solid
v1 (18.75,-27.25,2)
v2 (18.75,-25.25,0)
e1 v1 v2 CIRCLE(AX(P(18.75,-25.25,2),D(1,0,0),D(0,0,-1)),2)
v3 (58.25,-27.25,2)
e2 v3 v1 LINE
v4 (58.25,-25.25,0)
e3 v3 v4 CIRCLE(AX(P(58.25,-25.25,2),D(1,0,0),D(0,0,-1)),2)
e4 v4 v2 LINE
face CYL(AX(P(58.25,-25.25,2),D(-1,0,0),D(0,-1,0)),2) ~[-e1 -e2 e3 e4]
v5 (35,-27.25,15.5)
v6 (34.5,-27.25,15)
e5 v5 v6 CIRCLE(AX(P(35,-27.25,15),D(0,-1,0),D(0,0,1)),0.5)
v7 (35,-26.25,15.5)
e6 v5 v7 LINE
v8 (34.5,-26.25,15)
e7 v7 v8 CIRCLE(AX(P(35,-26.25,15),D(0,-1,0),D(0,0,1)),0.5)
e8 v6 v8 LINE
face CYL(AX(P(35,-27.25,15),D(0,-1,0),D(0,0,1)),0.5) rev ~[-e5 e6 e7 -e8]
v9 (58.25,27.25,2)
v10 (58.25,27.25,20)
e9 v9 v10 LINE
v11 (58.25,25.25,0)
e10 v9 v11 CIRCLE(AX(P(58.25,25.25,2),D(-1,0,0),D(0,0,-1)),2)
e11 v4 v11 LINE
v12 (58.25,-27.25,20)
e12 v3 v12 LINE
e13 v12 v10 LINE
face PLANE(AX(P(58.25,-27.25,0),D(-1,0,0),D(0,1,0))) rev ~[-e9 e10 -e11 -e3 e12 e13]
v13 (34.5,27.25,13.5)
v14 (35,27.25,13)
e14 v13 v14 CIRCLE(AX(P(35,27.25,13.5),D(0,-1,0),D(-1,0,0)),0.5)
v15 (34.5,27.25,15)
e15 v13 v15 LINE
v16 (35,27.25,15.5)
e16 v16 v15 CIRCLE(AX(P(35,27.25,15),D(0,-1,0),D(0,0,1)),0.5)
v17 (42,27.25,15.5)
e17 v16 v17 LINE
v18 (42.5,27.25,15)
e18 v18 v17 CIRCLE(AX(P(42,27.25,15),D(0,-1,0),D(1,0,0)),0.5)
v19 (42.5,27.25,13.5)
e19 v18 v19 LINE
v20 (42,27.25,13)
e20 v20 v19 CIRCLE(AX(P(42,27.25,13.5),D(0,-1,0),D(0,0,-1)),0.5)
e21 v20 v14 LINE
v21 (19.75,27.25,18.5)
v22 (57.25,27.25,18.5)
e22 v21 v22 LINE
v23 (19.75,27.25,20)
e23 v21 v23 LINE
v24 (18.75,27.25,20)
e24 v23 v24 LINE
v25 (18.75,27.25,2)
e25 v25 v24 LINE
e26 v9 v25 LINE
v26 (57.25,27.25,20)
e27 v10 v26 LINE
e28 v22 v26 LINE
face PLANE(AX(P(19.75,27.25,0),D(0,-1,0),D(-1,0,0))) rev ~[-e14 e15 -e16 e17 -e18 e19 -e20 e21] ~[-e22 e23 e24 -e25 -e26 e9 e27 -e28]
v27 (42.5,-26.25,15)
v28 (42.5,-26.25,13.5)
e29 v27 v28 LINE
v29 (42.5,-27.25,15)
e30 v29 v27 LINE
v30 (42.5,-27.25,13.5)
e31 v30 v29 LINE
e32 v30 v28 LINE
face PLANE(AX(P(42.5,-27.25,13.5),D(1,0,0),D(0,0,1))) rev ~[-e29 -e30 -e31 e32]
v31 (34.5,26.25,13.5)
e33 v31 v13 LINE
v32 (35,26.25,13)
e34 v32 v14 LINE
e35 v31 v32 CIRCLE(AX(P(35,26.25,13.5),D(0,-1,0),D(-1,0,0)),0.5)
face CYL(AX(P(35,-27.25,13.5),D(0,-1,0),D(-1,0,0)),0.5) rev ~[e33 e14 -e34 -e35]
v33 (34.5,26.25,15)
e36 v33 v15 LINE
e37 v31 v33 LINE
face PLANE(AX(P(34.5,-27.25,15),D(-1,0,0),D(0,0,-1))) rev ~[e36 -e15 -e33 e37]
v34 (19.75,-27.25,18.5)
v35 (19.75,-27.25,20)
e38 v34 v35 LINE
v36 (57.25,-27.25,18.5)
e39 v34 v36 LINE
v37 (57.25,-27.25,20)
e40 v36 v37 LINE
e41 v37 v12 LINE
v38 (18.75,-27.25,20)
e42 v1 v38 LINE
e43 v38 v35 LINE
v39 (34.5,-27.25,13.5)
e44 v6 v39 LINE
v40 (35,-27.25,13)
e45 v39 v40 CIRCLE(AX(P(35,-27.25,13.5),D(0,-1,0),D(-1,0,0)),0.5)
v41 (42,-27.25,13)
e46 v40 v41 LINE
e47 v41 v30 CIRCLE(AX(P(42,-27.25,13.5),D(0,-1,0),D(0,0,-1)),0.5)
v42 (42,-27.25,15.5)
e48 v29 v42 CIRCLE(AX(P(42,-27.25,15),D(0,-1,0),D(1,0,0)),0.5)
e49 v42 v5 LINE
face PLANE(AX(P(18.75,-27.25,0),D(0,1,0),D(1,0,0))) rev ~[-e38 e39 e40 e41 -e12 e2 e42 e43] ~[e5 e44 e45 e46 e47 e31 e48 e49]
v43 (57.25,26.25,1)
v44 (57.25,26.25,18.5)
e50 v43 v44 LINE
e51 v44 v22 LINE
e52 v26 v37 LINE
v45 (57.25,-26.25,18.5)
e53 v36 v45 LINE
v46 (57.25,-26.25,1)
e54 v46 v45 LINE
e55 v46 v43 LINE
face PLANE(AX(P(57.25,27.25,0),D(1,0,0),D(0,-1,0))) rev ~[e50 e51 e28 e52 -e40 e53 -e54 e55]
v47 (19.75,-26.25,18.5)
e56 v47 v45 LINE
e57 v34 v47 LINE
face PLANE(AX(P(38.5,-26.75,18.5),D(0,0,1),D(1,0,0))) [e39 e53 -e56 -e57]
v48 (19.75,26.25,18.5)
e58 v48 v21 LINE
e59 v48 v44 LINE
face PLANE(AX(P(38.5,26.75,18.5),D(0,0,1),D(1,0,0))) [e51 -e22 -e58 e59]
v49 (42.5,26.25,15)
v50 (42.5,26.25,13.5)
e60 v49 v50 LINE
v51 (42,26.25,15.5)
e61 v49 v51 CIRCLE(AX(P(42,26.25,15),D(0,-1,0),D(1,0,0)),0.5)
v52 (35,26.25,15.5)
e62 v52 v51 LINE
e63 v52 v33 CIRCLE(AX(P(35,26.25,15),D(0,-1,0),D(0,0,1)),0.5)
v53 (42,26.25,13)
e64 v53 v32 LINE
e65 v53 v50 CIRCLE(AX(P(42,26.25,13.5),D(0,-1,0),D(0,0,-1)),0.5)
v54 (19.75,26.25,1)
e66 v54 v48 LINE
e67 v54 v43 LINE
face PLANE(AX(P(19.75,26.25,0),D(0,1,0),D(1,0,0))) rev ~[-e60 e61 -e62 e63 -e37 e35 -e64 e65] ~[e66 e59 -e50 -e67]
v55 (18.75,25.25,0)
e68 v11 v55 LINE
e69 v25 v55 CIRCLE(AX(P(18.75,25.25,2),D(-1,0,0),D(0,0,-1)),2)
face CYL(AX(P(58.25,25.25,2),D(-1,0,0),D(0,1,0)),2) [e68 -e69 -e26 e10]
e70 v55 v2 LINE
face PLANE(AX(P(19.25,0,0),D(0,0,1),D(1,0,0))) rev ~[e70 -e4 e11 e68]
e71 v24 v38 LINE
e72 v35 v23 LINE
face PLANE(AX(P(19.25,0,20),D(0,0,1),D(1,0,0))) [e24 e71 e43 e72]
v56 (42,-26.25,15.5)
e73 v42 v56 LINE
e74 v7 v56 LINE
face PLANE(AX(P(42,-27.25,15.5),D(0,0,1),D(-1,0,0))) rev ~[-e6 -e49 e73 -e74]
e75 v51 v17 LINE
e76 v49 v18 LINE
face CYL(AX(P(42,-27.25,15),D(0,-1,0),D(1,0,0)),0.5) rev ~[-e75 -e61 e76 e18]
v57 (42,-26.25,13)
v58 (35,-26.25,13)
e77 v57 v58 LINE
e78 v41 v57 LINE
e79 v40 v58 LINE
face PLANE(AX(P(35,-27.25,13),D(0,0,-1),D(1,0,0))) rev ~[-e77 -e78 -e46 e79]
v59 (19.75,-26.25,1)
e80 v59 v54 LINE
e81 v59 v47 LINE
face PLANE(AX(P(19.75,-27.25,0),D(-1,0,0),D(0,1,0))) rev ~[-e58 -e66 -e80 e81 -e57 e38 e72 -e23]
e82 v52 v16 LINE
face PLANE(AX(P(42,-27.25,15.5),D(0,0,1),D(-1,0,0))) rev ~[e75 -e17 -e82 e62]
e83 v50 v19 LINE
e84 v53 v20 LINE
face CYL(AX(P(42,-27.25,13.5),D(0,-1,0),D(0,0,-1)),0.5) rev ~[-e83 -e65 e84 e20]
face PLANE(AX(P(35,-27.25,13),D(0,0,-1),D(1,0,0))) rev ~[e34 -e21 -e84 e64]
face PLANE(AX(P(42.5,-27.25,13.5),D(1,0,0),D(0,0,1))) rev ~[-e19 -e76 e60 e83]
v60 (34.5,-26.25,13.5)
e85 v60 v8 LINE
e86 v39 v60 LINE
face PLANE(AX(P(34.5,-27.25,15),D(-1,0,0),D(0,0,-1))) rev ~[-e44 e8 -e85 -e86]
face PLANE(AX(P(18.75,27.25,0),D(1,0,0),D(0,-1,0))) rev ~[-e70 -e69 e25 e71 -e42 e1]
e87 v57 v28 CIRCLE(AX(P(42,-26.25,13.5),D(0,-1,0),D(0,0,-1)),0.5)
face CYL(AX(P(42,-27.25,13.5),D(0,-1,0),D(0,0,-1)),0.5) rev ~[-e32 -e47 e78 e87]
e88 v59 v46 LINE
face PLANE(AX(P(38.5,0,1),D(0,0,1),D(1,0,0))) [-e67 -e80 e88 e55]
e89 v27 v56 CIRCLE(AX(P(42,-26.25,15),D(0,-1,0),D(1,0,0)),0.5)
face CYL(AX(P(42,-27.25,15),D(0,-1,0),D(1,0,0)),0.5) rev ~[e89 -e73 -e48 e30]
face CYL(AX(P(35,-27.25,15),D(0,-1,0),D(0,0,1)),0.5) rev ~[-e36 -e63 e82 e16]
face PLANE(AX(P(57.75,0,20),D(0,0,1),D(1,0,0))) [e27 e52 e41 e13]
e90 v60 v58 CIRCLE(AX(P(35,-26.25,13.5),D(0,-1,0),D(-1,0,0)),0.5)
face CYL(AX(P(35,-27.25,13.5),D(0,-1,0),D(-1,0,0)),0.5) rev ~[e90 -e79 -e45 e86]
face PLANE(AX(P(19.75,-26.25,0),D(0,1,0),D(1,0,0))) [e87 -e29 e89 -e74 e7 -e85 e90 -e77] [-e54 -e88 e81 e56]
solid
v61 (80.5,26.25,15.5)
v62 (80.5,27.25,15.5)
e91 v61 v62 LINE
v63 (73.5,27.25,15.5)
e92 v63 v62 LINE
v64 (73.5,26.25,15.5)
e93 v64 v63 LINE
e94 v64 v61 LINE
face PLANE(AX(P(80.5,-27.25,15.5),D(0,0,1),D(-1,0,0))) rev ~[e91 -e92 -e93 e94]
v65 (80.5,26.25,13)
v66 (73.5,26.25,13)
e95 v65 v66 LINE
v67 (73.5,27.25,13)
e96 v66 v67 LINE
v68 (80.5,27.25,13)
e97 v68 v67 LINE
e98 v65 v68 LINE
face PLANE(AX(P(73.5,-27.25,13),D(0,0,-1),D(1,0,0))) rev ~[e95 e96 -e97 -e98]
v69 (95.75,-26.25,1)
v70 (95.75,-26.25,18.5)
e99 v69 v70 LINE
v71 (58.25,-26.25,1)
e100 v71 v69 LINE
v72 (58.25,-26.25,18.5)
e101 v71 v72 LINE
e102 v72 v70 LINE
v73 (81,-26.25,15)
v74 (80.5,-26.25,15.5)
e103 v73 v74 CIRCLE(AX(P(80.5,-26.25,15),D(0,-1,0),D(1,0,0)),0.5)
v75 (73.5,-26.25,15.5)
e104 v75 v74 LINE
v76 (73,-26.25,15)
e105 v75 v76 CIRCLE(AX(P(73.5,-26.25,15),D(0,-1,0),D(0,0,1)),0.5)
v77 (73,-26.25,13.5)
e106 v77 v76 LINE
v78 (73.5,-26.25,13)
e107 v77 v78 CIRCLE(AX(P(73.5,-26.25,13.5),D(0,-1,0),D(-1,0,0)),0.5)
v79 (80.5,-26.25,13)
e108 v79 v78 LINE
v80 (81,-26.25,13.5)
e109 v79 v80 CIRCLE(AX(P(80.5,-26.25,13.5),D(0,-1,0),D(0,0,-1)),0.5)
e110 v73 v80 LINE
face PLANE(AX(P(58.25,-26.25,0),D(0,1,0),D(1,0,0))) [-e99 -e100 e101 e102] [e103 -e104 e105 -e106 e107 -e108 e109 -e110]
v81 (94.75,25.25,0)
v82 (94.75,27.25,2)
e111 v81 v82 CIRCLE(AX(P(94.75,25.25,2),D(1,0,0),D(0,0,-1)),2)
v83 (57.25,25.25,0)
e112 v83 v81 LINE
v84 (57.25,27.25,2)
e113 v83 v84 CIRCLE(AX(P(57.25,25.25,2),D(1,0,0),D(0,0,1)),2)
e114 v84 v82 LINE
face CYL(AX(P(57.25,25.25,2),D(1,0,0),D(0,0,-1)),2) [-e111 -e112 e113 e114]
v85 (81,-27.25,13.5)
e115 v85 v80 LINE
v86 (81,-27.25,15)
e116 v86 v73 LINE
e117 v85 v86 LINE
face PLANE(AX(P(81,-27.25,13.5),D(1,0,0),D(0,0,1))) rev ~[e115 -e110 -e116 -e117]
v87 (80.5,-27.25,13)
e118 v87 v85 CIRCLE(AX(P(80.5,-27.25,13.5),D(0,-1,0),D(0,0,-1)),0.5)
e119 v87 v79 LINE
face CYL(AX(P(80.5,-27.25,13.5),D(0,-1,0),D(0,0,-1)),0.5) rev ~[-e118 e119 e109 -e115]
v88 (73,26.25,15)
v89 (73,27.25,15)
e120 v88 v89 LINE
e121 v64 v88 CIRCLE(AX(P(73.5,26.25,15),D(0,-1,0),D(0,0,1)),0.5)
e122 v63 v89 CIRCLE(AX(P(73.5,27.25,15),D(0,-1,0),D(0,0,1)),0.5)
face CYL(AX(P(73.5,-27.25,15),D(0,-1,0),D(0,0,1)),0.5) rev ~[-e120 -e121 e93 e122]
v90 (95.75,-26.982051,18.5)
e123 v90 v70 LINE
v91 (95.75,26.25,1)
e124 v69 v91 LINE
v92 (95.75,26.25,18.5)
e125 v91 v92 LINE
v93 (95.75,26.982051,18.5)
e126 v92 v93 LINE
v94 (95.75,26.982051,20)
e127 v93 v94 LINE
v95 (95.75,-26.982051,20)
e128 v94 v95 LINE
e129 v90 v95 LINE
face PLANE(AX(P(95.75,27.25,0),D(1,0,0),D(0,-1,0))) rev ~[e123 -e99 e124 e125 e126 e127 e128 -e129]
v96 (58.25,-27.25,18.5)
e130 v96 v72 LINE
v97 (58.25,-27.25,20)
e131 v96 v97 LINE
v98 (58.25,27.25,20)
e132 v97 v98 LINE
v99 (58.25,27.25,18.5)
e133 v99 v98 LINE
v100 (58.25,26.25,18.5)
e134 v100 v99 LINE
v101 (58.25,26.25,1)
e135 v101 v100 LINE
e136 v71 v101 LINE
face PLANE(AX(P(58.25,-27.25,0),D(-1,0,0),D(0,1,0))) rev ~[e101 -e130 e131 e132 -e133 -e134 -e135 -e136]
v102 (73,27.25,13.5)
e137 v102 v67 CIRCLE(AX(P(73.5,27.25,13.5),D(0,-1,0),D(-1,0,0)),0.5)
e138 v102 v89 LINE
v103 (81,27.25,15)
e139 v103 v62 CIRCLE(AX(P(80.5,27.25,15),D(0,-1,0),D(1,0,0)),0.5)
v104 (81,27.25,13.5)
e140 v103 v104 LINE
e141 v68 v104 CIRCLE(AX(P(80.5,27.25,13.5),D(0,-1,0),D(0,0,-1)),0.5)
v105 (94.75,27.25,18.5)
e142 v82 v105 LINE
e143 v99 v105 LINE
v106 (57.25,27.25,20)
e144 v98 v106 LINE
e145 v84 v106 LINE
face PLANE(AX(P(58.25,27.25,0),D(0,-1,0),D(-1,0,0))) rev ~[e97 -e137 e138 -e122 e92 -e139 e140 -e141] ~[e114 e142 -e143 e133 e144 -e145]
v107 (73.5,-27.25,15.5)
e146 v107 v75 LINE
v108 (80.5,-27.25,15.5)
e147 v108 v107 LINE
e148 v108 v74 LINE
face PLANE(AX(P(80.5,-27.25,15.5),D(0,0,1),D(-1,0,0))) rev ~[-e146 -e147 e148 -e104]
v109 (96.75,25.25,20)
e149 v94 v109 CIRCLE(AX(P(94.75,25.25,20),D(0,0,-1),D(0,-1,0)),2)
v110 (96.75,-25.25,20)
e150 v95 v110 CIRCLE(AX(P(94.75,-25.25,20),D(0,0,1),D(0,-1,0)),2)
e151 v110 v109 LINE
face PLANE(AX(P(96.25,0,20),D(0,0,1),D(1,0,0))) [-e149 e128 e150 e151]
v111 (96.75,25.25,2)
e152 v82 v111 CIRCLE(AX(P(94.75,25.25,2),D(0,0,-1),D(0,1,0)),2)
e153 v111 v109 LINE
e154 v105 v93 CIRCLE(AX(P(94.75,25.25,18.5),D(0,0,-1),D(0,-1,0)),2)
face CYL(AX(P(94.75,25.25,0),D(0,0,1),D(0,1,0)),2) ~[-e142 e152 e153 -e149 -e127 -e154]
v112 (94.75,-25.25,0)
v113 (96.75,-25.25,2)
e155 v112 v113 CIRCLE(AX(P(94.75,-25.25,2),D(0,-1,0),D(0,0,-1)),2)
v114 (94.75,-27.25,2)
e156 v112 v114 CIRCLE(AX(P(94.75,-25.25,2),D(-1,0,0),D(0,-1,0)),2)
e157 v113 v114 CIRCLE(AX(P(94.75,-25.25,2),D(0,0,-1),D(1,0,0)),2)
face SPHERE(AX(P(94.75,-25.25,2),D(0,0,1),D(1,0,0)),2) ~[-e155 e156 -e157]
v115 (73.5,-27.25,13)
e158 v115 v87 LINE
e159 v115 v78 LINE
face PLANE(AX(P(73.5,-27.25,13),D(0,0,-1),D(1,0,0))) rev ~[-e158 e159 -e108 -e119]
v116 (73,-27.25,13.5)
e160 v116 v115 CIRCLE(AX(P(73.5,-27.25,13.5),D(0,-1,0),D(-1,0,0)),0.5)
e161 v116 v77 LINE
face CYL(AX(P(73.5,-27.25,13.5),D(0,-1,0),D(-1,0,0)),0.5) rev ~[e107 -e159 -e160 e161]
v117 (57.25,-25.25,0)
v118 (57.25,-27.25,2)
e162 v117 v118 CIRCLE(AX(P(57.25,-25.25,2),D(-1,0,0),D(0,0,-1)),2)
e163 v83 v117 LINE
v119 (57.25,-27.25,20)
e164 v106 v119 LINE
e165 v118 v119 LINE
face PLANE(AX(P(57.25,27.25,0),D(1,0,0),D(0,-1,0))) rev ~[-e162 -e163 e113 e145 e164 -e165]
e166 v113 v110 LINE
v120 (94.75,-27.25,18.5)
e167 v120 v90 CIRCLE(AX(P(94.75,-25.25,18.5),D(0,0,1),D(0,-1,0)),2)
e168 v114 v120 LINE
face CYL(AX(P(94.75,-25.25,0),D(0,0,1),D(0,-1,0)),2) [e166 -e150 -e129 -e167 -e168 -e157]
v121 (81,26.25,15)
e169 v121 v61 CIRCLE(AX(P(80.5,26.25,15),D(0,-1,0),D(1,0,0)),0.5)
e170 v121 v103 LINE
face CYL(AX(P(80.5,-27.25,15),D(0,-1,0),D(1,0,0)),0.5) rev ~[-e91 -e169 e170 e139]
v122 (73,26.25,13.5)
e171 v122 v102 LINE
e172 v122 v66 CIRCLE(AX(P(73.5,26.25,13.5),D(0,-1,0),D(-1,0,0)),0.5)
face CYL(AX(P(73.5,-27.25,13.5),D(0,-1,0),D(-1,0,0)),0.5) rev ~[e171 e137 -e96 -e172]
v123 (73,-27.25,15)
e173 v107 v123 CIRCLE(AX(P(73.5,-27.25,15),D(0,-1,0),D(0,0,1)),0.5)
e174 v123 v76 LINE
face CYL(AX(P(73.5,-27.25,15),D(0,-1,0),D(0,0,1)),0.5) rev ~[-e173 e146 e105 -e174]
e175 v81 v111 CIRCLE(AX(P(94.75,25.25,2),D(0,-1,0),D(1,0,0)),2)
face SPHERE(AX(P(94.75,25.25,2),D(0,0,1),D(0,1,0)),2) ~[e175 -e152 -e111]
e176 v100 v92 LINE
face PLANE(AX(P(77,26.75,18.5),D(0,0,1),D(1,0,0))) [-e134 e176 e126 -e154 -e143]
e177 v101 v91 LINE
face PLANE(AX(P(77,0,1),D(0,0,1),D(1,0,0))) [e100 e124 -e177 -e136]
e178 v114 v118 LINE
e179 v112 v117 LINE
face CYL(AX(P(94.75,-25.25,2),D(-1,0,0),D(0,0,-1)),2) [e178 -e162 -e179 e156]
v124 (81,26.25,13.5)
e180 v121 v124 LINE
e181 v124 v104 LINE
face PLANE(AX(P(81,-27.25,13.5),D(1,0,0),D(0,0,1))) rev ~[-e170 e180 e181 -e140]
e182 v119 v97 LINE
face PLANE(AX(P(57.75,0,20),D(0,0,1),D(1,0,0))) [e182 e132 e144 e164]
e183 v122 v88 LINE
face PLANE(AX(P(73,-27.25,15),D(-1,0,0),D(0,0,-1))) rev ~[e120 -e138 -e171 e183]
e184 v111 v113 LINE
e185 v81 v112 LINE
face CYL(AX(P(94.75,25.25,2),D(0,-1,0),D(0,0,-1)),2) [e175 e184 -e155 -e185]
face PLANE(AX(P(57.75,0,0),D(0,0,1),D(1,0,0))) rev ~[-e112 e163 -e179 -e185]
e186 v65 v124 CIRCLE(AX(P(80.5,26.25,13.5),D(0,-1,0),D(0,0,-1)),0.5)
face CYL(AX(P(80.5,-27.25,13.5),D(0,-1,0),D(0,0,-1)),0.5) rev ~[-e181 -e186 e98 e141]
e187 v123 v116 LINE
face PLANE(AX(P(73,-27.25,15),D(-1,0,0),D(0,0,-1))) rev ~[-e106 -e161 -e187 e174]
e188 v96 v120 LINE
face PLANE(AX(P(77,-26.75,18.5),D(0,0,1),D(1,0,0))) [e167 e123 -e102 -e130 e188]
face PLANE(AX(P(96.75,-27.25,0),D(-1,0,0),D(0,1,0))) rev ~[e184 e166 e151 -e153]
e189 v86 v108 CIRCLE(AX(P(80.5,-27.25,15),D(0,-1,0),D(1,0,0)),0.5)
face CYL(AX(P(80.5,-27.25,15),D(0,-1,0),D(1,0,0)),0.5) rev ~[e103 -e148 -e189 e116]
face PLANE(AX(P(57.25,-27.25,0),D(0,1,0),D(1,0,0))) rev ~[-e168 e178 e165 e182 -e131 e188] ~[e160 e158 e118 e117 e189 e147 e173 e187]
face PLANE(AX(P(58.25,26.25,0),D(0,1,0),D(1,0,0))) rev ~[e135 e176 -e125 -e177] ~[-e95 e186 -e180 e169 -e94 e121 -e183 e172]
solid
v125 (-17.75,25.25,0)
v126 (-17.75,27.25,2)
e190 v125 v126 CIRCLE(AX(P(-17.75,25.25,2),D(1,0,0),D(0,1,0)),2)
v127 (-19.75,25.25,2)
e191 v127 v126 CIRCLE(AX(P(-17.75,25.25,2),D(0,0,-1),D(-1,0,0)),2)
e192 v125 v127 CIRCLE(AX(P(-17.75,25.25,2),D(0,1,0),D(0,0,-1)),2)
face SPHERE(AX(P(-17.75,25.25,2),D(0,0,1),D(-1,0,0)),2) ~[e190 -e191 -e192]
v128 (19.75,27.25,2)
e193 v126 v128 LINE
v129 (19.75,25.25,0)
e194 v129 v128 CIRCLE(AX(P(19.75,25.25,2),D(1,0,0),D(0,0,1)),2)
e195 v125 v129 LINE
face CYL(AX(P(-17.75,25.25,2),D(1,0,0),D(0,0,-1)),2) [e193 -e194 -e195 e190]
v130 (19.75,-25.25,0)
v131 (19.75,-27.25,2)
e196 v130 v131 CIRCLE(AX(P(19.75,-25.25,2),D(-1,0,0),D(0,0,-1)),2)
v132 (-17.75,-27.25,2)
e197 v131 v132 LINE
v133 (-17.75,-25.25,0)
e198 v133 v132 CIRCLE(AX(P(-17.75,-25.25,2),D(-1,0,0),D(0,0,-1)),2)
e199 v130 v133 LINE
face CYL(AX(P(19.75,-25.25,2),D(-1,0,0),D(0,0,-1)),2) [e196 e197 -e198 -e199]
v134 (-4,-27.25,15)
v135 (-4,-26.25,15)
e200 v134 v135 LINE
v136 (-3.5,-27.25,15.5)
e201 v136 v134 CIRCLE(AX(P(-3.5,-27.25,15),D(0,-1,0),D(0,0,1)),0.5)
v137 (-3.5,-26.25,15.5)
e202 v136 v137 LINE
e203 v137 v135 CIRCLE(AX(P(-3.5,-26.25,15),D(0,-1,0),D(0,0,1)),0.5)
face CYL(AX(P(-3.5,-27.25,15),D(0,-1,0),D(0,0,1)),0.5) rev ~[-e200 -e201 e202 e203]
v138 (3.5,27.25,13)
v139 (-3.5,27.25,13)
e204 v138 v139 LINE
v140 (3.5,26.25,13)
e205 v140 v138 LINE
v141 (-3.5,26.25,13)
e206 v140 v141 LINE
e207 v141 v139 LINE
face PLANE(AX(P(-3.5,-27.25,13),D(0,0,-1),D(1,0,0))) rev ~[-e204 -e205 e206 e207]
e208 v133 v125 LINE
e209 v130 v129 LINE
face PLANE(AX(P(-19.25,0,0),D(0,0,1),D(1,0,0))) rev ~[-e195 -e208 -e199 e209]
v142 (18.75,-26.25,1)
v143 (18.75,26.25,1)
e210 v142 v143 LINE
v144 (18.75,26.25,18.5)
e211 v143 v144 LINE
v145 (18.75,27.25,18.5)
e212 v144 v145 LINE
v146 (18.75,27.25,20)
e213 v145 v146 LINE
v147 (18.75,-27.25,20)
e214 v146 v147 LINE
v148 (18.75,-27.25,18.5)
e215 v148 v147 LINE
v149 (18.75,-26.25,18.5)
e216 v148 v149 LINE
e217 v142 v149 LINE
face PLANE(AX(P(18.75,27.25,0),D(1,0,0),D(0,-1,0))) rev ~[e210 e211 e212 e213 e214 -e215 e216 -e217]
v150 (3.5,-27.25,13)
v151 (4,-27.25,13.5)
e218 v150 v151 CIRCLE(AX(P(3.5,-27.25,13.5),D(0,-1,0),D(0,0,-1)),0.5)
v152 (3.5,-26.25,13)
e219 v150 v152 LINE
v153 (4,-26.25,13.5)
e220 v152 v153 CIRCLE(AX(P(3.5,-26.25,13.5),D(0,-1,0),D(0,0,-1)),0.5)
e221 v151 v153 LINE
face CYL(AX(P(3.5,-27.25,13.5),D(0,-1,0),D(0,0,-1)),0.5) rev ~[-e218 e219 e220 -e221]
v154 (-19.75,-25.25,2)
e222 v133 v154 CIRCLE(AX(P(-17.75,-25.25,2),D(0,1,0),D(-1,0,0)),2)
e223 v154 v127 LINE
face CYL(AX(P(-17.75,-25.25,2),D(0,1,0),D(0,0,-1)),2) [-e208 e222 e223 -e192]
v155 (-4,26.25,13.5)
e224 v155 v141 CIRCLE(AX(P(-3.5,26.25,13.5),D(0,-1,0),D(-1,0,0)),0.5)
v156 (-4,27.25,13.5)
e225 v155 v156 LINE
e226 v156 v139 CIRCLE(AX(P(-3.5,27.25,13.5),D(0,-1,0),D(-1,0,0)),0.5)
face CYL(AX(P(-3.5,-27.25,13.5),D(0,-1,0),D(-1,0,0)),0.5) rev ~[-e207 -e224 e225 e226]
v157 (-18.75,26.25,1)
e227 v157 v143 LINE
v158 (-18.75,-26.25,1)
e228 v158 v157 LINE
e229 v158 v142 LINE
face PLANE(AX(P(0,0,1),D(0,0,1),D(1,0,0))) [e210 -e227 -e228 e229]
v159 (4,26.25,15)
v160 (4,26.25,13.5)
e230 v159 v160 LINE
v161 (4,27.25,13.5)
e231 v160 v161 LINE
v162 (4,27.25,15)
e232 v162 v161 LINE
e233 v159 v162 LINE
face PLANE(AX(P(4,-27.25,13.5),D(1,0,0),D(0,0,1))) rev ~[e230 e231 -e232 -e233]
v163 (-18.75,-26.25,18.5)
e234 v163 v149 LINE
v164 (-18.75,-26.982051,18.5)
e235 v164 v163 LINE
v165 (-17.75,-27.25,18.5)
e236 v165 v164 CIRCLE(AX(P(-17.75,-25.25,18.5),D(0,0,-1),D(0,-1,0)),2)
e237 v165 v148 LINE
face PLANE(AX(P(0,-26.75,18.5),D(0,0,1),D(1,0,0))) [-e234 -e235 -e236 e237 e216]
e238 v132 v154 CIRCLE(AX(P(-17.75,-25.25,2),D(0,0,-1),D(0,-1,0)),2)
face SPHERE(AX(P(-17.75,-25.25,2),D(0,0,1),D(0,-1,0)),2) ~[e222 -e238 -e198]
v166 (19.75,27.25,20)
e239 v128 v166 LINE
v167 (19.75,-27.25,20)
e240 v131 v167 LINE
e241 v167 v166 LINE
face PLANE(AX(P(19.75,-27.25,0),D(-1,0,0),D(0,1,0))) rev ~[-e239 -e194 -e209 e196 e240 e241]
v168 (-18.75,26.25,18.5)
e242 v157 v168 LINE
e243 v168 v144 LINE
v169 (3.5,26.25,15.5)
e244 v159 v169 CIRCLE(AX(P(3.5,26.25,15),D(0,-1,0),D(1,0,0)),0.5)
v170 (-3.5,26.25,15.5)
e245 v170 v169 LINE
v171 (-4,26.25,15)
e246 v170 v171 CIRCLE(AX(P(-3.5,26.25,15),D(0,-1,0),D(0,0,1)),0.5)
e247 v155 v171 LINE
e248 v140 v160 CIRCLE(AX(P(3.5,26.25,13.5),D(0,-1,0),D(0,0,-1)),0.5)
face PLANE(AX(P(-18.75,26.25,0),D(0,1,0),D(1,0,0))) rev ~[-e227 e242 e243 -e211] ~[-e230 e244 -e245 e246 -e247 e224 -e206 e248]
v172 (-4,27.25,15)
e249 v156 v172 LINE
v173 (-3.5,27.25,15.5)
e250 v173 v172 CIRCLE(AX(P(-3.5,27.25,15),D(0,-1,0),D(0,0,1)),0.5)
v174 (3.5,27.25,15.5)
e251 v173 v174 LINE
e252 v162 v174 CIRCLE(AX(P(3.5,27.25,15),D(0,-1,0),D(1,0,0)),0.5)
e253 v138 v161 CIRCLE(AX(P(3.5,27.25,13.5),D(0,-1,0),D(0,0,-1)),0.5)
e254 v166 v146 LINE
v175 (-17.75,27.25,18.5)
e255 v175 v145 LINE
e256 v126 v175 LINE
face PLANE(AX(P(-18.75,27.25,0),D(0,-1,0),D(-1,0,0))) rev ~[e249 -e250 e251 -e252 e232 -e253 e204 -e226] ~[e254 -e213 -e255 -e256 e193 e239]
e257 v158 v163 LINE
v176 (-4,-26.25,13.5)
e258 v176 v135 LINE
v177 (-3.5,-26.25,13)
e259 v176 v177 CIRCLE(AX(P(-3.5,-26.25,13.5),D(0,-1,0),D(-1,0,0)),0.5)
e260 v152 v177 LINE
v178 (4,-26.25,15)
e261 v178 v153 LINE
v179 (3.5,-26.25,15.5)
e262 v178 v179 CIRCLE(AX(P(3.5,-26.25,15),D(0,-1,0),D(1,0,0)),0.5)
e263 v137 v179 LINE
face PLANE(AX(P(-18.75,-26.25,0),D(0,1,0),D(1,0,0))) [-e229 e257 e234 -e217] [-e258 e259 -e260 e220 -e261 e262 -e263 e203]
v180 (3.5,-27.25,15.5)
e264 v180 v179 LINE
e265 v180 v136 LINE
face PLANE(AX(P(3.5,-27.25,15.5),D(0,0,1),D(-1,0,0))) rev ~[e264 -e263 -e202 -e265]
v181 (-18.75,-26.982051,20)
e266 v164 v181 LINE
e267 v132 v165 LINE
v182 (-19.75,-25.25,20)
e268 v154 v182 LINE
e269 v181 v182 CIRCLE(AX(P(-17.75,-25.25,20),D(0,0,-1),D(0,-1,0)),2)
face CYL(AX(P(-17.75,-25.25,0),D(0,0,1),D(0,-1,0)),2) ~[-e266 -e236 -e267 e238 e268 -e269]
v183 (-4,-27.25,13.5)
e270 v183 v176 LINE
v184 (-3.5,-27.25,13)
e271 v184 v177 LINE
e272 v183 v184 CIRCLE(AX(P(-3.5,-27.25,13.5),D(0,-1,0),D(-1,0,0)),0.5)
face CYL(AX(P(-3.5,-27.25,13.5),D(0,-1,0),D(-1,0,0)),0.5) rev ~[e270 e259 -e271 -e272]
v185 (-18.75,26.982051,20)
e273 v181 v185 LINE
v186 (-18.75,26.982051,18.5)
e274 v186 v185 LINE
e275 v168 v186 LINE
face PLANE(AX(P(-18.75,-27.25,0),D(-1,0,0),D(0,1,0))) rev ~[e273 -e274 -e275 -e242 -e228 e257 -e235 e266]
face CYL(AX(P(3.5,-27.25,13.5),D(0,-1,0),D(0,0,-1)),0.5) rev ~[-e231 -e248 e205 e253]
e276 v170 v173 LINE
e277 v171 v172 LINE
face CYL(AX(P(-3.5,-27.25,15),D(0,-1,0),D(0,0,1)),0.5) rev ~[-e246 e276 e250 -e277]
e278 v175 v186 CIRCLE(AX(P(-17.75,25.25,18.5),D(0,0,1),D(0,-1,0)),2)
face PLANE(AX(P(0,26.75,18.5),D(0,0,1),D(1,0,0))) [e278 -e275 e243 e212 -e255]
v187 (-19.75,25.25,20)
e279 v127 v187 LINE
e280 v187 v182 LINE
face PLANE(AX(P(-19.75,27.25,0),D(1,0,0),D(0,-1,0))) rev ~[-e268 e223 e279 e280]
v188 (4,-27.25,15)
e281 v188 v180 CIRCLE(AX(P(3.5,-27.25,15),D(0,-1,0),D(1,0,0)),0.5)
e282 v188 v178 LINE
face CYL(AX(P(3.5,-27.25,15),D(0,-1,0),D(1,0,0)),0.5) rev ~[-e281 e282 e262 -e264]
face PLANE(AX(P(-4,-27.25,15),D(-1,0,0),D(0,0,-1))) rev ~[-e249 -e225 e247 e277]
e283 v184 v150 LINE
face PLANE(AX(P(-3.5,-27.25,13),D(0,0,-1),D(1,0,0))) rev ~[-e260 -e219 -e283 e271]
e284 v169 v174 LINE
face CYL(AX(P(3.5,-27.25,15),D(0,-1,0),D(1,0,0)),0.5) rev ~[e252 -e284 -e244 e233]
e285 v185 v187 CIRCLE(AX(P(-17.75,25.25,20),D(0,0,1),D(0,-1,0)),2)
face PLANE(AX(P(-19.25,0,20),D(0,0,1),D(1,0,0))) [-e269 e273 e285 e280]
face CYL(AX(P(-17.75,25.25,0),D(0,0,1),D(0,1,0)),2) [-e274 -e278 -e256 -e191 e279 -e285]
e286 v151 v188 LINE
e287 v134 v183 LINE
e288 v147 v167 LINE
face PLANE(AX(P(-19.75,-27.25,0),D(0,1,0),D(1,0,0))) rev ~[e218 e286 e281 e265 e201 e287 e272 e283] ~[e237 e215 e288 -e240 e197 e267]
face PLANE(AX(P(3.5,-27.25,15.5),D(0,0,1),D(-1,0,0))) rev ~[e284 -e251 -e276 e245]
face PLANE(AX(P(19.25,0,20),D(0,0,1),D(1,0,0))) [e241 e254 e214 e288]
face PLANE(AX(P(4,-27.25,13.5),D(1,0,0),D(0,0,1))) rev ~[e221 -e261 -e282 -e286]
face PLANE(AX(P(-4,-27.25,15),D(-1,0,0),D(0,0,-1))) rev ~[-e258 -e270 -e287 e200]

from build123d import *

# Parameters (mm, degrees)
F0_W     = 37.5
F0_H     = 52.5
F1_DEPTH = 1
F0_H_2   = 1
F2_DEPTH = 18.5
F4_DEPTH = 60
F5_DEPTH = 20
F8_R     = 2
F8_2_R   = 2
F9_R     = 2
F9_2_R   = 2
F9_3_R   = 2


with BuildPart() as f1:
    # F0 (on Top) → F1 (new body)
    with BuildSketch(Plane.XY):
        Rectangle(F0_W, F0_H)
    extrude(amount=F1_DEPTH)

    # F0 (on Top) → F2 (join)
    with BuildSketch(Plane.XY):
        with Locations((0, 26.75)):
            Rectangle(F0_W, F0_H_2)
        with Locations((0, -26.75)):
            Rectangle(F0_W, F0_H_2)
    extrude(amount=F2_DEPTH)

    # F3 (on face) → F4 (cut)
    with BuildSketch(Plane.XZ.offset(27.25)):
        with BuildLine():
            ThreePointArc((4, 15), (3.8535533906, 15.3535533906), (3.5, 15.5))
            Line((3.5, 15.5), (-3.5, 15.5))
            ThreePointArc((-3.5, 15.5), (-3.8535533906, 15.3535533906), (-4, 15))
            Line((-4, 15), (-4, 13.5))
            ThreePointArc((-4, 13.5), (-3.8535533906, 13.1464466094), (-3.5, 13))
            Line((-3.5, 13), (3.5, 13))
            ThreePointArc((3.5, 13), (3.8535533906, 13.1464466094), (4, 13.5))
            Line((4, 13.5), (4, 15))
        make_face()
    extrude(amount=-F4_DEPTH, mode=Mode.SUBTRACT)

    # F0 (on Top) → F5 (join)
    with BuildSketch(Plane.XY):
        Polygon((-18.75, -26.25), (-18.75, 26.25), (-18.75, 27.25), (-19.75, 27.25), (-19.75, -27.25), (-18.75, -27.25), align=None)
        Polygon((18.75, 27.25), (18.75, 26.25), (18.75, -26.25), (18.75, -27.25), (19.75, -27.25), (19.75, 27.25), align=None)
    extrude(amount=F5_DEPTH)


with BuildPart() as f6_1:
    # F6: copy of F1
    add(f1.part.moved(Location((38.4999997914, 0, 0))))


with BuildPart() as f7_1:
    # F7: copy of F6_1
    add(f6_1.part.moved(Location((38.5, 0, 0))))

    # F8#2
    f8_2_edges = [f7_1.edges().sort_by_distance(p)[0] for p in [
        (96.75, -27.25, 10),
        (96.75, 27.25, 10),
    ]]
    fillet(f8_2_edges, radius=F8_2_R)

    # F9#3
    f9_3_edges = [f7_1.edges().sort_by_distance(p)[0] for p in [
        (76, -27.25, 0),
    ]]
    fillet(f9_3_edges, radius=F9_3_R)


with BuildPart() as f1_1:
    add(f1.part)

    # F8
    f8_edges = [f1_1.edges().sort_by_distance(p)[0] for p in [
        (-19.75, -27.25, 10),
        (-19.75, 27.25, 10),
    ]]
    fillet(f8_edges, radius=F8_R)

    # F9
    f9_edges = [f1_1.edges().sort_by_distance(p)[0] for p in [
        (1, -27.25, 0),
        (-19.75, 0, 0),
    ]]
    fillet(f9_edges, radius=F9_R)


with BuildPart() as f6_1_1:
    add(f6_1.part)

    # F9#2
    f9_2_edges = [f6_1_1.edges().sort_by_distance(p)[0] for p in [
        (38.5, -27.25, 0),
        (38.5, 27.25, 0),
    ]]
    fillet(f9_2_edges, radius=F9_2_R)


solid = Compound([f7_1.part, f1_1.part, f6_1_1.part])
